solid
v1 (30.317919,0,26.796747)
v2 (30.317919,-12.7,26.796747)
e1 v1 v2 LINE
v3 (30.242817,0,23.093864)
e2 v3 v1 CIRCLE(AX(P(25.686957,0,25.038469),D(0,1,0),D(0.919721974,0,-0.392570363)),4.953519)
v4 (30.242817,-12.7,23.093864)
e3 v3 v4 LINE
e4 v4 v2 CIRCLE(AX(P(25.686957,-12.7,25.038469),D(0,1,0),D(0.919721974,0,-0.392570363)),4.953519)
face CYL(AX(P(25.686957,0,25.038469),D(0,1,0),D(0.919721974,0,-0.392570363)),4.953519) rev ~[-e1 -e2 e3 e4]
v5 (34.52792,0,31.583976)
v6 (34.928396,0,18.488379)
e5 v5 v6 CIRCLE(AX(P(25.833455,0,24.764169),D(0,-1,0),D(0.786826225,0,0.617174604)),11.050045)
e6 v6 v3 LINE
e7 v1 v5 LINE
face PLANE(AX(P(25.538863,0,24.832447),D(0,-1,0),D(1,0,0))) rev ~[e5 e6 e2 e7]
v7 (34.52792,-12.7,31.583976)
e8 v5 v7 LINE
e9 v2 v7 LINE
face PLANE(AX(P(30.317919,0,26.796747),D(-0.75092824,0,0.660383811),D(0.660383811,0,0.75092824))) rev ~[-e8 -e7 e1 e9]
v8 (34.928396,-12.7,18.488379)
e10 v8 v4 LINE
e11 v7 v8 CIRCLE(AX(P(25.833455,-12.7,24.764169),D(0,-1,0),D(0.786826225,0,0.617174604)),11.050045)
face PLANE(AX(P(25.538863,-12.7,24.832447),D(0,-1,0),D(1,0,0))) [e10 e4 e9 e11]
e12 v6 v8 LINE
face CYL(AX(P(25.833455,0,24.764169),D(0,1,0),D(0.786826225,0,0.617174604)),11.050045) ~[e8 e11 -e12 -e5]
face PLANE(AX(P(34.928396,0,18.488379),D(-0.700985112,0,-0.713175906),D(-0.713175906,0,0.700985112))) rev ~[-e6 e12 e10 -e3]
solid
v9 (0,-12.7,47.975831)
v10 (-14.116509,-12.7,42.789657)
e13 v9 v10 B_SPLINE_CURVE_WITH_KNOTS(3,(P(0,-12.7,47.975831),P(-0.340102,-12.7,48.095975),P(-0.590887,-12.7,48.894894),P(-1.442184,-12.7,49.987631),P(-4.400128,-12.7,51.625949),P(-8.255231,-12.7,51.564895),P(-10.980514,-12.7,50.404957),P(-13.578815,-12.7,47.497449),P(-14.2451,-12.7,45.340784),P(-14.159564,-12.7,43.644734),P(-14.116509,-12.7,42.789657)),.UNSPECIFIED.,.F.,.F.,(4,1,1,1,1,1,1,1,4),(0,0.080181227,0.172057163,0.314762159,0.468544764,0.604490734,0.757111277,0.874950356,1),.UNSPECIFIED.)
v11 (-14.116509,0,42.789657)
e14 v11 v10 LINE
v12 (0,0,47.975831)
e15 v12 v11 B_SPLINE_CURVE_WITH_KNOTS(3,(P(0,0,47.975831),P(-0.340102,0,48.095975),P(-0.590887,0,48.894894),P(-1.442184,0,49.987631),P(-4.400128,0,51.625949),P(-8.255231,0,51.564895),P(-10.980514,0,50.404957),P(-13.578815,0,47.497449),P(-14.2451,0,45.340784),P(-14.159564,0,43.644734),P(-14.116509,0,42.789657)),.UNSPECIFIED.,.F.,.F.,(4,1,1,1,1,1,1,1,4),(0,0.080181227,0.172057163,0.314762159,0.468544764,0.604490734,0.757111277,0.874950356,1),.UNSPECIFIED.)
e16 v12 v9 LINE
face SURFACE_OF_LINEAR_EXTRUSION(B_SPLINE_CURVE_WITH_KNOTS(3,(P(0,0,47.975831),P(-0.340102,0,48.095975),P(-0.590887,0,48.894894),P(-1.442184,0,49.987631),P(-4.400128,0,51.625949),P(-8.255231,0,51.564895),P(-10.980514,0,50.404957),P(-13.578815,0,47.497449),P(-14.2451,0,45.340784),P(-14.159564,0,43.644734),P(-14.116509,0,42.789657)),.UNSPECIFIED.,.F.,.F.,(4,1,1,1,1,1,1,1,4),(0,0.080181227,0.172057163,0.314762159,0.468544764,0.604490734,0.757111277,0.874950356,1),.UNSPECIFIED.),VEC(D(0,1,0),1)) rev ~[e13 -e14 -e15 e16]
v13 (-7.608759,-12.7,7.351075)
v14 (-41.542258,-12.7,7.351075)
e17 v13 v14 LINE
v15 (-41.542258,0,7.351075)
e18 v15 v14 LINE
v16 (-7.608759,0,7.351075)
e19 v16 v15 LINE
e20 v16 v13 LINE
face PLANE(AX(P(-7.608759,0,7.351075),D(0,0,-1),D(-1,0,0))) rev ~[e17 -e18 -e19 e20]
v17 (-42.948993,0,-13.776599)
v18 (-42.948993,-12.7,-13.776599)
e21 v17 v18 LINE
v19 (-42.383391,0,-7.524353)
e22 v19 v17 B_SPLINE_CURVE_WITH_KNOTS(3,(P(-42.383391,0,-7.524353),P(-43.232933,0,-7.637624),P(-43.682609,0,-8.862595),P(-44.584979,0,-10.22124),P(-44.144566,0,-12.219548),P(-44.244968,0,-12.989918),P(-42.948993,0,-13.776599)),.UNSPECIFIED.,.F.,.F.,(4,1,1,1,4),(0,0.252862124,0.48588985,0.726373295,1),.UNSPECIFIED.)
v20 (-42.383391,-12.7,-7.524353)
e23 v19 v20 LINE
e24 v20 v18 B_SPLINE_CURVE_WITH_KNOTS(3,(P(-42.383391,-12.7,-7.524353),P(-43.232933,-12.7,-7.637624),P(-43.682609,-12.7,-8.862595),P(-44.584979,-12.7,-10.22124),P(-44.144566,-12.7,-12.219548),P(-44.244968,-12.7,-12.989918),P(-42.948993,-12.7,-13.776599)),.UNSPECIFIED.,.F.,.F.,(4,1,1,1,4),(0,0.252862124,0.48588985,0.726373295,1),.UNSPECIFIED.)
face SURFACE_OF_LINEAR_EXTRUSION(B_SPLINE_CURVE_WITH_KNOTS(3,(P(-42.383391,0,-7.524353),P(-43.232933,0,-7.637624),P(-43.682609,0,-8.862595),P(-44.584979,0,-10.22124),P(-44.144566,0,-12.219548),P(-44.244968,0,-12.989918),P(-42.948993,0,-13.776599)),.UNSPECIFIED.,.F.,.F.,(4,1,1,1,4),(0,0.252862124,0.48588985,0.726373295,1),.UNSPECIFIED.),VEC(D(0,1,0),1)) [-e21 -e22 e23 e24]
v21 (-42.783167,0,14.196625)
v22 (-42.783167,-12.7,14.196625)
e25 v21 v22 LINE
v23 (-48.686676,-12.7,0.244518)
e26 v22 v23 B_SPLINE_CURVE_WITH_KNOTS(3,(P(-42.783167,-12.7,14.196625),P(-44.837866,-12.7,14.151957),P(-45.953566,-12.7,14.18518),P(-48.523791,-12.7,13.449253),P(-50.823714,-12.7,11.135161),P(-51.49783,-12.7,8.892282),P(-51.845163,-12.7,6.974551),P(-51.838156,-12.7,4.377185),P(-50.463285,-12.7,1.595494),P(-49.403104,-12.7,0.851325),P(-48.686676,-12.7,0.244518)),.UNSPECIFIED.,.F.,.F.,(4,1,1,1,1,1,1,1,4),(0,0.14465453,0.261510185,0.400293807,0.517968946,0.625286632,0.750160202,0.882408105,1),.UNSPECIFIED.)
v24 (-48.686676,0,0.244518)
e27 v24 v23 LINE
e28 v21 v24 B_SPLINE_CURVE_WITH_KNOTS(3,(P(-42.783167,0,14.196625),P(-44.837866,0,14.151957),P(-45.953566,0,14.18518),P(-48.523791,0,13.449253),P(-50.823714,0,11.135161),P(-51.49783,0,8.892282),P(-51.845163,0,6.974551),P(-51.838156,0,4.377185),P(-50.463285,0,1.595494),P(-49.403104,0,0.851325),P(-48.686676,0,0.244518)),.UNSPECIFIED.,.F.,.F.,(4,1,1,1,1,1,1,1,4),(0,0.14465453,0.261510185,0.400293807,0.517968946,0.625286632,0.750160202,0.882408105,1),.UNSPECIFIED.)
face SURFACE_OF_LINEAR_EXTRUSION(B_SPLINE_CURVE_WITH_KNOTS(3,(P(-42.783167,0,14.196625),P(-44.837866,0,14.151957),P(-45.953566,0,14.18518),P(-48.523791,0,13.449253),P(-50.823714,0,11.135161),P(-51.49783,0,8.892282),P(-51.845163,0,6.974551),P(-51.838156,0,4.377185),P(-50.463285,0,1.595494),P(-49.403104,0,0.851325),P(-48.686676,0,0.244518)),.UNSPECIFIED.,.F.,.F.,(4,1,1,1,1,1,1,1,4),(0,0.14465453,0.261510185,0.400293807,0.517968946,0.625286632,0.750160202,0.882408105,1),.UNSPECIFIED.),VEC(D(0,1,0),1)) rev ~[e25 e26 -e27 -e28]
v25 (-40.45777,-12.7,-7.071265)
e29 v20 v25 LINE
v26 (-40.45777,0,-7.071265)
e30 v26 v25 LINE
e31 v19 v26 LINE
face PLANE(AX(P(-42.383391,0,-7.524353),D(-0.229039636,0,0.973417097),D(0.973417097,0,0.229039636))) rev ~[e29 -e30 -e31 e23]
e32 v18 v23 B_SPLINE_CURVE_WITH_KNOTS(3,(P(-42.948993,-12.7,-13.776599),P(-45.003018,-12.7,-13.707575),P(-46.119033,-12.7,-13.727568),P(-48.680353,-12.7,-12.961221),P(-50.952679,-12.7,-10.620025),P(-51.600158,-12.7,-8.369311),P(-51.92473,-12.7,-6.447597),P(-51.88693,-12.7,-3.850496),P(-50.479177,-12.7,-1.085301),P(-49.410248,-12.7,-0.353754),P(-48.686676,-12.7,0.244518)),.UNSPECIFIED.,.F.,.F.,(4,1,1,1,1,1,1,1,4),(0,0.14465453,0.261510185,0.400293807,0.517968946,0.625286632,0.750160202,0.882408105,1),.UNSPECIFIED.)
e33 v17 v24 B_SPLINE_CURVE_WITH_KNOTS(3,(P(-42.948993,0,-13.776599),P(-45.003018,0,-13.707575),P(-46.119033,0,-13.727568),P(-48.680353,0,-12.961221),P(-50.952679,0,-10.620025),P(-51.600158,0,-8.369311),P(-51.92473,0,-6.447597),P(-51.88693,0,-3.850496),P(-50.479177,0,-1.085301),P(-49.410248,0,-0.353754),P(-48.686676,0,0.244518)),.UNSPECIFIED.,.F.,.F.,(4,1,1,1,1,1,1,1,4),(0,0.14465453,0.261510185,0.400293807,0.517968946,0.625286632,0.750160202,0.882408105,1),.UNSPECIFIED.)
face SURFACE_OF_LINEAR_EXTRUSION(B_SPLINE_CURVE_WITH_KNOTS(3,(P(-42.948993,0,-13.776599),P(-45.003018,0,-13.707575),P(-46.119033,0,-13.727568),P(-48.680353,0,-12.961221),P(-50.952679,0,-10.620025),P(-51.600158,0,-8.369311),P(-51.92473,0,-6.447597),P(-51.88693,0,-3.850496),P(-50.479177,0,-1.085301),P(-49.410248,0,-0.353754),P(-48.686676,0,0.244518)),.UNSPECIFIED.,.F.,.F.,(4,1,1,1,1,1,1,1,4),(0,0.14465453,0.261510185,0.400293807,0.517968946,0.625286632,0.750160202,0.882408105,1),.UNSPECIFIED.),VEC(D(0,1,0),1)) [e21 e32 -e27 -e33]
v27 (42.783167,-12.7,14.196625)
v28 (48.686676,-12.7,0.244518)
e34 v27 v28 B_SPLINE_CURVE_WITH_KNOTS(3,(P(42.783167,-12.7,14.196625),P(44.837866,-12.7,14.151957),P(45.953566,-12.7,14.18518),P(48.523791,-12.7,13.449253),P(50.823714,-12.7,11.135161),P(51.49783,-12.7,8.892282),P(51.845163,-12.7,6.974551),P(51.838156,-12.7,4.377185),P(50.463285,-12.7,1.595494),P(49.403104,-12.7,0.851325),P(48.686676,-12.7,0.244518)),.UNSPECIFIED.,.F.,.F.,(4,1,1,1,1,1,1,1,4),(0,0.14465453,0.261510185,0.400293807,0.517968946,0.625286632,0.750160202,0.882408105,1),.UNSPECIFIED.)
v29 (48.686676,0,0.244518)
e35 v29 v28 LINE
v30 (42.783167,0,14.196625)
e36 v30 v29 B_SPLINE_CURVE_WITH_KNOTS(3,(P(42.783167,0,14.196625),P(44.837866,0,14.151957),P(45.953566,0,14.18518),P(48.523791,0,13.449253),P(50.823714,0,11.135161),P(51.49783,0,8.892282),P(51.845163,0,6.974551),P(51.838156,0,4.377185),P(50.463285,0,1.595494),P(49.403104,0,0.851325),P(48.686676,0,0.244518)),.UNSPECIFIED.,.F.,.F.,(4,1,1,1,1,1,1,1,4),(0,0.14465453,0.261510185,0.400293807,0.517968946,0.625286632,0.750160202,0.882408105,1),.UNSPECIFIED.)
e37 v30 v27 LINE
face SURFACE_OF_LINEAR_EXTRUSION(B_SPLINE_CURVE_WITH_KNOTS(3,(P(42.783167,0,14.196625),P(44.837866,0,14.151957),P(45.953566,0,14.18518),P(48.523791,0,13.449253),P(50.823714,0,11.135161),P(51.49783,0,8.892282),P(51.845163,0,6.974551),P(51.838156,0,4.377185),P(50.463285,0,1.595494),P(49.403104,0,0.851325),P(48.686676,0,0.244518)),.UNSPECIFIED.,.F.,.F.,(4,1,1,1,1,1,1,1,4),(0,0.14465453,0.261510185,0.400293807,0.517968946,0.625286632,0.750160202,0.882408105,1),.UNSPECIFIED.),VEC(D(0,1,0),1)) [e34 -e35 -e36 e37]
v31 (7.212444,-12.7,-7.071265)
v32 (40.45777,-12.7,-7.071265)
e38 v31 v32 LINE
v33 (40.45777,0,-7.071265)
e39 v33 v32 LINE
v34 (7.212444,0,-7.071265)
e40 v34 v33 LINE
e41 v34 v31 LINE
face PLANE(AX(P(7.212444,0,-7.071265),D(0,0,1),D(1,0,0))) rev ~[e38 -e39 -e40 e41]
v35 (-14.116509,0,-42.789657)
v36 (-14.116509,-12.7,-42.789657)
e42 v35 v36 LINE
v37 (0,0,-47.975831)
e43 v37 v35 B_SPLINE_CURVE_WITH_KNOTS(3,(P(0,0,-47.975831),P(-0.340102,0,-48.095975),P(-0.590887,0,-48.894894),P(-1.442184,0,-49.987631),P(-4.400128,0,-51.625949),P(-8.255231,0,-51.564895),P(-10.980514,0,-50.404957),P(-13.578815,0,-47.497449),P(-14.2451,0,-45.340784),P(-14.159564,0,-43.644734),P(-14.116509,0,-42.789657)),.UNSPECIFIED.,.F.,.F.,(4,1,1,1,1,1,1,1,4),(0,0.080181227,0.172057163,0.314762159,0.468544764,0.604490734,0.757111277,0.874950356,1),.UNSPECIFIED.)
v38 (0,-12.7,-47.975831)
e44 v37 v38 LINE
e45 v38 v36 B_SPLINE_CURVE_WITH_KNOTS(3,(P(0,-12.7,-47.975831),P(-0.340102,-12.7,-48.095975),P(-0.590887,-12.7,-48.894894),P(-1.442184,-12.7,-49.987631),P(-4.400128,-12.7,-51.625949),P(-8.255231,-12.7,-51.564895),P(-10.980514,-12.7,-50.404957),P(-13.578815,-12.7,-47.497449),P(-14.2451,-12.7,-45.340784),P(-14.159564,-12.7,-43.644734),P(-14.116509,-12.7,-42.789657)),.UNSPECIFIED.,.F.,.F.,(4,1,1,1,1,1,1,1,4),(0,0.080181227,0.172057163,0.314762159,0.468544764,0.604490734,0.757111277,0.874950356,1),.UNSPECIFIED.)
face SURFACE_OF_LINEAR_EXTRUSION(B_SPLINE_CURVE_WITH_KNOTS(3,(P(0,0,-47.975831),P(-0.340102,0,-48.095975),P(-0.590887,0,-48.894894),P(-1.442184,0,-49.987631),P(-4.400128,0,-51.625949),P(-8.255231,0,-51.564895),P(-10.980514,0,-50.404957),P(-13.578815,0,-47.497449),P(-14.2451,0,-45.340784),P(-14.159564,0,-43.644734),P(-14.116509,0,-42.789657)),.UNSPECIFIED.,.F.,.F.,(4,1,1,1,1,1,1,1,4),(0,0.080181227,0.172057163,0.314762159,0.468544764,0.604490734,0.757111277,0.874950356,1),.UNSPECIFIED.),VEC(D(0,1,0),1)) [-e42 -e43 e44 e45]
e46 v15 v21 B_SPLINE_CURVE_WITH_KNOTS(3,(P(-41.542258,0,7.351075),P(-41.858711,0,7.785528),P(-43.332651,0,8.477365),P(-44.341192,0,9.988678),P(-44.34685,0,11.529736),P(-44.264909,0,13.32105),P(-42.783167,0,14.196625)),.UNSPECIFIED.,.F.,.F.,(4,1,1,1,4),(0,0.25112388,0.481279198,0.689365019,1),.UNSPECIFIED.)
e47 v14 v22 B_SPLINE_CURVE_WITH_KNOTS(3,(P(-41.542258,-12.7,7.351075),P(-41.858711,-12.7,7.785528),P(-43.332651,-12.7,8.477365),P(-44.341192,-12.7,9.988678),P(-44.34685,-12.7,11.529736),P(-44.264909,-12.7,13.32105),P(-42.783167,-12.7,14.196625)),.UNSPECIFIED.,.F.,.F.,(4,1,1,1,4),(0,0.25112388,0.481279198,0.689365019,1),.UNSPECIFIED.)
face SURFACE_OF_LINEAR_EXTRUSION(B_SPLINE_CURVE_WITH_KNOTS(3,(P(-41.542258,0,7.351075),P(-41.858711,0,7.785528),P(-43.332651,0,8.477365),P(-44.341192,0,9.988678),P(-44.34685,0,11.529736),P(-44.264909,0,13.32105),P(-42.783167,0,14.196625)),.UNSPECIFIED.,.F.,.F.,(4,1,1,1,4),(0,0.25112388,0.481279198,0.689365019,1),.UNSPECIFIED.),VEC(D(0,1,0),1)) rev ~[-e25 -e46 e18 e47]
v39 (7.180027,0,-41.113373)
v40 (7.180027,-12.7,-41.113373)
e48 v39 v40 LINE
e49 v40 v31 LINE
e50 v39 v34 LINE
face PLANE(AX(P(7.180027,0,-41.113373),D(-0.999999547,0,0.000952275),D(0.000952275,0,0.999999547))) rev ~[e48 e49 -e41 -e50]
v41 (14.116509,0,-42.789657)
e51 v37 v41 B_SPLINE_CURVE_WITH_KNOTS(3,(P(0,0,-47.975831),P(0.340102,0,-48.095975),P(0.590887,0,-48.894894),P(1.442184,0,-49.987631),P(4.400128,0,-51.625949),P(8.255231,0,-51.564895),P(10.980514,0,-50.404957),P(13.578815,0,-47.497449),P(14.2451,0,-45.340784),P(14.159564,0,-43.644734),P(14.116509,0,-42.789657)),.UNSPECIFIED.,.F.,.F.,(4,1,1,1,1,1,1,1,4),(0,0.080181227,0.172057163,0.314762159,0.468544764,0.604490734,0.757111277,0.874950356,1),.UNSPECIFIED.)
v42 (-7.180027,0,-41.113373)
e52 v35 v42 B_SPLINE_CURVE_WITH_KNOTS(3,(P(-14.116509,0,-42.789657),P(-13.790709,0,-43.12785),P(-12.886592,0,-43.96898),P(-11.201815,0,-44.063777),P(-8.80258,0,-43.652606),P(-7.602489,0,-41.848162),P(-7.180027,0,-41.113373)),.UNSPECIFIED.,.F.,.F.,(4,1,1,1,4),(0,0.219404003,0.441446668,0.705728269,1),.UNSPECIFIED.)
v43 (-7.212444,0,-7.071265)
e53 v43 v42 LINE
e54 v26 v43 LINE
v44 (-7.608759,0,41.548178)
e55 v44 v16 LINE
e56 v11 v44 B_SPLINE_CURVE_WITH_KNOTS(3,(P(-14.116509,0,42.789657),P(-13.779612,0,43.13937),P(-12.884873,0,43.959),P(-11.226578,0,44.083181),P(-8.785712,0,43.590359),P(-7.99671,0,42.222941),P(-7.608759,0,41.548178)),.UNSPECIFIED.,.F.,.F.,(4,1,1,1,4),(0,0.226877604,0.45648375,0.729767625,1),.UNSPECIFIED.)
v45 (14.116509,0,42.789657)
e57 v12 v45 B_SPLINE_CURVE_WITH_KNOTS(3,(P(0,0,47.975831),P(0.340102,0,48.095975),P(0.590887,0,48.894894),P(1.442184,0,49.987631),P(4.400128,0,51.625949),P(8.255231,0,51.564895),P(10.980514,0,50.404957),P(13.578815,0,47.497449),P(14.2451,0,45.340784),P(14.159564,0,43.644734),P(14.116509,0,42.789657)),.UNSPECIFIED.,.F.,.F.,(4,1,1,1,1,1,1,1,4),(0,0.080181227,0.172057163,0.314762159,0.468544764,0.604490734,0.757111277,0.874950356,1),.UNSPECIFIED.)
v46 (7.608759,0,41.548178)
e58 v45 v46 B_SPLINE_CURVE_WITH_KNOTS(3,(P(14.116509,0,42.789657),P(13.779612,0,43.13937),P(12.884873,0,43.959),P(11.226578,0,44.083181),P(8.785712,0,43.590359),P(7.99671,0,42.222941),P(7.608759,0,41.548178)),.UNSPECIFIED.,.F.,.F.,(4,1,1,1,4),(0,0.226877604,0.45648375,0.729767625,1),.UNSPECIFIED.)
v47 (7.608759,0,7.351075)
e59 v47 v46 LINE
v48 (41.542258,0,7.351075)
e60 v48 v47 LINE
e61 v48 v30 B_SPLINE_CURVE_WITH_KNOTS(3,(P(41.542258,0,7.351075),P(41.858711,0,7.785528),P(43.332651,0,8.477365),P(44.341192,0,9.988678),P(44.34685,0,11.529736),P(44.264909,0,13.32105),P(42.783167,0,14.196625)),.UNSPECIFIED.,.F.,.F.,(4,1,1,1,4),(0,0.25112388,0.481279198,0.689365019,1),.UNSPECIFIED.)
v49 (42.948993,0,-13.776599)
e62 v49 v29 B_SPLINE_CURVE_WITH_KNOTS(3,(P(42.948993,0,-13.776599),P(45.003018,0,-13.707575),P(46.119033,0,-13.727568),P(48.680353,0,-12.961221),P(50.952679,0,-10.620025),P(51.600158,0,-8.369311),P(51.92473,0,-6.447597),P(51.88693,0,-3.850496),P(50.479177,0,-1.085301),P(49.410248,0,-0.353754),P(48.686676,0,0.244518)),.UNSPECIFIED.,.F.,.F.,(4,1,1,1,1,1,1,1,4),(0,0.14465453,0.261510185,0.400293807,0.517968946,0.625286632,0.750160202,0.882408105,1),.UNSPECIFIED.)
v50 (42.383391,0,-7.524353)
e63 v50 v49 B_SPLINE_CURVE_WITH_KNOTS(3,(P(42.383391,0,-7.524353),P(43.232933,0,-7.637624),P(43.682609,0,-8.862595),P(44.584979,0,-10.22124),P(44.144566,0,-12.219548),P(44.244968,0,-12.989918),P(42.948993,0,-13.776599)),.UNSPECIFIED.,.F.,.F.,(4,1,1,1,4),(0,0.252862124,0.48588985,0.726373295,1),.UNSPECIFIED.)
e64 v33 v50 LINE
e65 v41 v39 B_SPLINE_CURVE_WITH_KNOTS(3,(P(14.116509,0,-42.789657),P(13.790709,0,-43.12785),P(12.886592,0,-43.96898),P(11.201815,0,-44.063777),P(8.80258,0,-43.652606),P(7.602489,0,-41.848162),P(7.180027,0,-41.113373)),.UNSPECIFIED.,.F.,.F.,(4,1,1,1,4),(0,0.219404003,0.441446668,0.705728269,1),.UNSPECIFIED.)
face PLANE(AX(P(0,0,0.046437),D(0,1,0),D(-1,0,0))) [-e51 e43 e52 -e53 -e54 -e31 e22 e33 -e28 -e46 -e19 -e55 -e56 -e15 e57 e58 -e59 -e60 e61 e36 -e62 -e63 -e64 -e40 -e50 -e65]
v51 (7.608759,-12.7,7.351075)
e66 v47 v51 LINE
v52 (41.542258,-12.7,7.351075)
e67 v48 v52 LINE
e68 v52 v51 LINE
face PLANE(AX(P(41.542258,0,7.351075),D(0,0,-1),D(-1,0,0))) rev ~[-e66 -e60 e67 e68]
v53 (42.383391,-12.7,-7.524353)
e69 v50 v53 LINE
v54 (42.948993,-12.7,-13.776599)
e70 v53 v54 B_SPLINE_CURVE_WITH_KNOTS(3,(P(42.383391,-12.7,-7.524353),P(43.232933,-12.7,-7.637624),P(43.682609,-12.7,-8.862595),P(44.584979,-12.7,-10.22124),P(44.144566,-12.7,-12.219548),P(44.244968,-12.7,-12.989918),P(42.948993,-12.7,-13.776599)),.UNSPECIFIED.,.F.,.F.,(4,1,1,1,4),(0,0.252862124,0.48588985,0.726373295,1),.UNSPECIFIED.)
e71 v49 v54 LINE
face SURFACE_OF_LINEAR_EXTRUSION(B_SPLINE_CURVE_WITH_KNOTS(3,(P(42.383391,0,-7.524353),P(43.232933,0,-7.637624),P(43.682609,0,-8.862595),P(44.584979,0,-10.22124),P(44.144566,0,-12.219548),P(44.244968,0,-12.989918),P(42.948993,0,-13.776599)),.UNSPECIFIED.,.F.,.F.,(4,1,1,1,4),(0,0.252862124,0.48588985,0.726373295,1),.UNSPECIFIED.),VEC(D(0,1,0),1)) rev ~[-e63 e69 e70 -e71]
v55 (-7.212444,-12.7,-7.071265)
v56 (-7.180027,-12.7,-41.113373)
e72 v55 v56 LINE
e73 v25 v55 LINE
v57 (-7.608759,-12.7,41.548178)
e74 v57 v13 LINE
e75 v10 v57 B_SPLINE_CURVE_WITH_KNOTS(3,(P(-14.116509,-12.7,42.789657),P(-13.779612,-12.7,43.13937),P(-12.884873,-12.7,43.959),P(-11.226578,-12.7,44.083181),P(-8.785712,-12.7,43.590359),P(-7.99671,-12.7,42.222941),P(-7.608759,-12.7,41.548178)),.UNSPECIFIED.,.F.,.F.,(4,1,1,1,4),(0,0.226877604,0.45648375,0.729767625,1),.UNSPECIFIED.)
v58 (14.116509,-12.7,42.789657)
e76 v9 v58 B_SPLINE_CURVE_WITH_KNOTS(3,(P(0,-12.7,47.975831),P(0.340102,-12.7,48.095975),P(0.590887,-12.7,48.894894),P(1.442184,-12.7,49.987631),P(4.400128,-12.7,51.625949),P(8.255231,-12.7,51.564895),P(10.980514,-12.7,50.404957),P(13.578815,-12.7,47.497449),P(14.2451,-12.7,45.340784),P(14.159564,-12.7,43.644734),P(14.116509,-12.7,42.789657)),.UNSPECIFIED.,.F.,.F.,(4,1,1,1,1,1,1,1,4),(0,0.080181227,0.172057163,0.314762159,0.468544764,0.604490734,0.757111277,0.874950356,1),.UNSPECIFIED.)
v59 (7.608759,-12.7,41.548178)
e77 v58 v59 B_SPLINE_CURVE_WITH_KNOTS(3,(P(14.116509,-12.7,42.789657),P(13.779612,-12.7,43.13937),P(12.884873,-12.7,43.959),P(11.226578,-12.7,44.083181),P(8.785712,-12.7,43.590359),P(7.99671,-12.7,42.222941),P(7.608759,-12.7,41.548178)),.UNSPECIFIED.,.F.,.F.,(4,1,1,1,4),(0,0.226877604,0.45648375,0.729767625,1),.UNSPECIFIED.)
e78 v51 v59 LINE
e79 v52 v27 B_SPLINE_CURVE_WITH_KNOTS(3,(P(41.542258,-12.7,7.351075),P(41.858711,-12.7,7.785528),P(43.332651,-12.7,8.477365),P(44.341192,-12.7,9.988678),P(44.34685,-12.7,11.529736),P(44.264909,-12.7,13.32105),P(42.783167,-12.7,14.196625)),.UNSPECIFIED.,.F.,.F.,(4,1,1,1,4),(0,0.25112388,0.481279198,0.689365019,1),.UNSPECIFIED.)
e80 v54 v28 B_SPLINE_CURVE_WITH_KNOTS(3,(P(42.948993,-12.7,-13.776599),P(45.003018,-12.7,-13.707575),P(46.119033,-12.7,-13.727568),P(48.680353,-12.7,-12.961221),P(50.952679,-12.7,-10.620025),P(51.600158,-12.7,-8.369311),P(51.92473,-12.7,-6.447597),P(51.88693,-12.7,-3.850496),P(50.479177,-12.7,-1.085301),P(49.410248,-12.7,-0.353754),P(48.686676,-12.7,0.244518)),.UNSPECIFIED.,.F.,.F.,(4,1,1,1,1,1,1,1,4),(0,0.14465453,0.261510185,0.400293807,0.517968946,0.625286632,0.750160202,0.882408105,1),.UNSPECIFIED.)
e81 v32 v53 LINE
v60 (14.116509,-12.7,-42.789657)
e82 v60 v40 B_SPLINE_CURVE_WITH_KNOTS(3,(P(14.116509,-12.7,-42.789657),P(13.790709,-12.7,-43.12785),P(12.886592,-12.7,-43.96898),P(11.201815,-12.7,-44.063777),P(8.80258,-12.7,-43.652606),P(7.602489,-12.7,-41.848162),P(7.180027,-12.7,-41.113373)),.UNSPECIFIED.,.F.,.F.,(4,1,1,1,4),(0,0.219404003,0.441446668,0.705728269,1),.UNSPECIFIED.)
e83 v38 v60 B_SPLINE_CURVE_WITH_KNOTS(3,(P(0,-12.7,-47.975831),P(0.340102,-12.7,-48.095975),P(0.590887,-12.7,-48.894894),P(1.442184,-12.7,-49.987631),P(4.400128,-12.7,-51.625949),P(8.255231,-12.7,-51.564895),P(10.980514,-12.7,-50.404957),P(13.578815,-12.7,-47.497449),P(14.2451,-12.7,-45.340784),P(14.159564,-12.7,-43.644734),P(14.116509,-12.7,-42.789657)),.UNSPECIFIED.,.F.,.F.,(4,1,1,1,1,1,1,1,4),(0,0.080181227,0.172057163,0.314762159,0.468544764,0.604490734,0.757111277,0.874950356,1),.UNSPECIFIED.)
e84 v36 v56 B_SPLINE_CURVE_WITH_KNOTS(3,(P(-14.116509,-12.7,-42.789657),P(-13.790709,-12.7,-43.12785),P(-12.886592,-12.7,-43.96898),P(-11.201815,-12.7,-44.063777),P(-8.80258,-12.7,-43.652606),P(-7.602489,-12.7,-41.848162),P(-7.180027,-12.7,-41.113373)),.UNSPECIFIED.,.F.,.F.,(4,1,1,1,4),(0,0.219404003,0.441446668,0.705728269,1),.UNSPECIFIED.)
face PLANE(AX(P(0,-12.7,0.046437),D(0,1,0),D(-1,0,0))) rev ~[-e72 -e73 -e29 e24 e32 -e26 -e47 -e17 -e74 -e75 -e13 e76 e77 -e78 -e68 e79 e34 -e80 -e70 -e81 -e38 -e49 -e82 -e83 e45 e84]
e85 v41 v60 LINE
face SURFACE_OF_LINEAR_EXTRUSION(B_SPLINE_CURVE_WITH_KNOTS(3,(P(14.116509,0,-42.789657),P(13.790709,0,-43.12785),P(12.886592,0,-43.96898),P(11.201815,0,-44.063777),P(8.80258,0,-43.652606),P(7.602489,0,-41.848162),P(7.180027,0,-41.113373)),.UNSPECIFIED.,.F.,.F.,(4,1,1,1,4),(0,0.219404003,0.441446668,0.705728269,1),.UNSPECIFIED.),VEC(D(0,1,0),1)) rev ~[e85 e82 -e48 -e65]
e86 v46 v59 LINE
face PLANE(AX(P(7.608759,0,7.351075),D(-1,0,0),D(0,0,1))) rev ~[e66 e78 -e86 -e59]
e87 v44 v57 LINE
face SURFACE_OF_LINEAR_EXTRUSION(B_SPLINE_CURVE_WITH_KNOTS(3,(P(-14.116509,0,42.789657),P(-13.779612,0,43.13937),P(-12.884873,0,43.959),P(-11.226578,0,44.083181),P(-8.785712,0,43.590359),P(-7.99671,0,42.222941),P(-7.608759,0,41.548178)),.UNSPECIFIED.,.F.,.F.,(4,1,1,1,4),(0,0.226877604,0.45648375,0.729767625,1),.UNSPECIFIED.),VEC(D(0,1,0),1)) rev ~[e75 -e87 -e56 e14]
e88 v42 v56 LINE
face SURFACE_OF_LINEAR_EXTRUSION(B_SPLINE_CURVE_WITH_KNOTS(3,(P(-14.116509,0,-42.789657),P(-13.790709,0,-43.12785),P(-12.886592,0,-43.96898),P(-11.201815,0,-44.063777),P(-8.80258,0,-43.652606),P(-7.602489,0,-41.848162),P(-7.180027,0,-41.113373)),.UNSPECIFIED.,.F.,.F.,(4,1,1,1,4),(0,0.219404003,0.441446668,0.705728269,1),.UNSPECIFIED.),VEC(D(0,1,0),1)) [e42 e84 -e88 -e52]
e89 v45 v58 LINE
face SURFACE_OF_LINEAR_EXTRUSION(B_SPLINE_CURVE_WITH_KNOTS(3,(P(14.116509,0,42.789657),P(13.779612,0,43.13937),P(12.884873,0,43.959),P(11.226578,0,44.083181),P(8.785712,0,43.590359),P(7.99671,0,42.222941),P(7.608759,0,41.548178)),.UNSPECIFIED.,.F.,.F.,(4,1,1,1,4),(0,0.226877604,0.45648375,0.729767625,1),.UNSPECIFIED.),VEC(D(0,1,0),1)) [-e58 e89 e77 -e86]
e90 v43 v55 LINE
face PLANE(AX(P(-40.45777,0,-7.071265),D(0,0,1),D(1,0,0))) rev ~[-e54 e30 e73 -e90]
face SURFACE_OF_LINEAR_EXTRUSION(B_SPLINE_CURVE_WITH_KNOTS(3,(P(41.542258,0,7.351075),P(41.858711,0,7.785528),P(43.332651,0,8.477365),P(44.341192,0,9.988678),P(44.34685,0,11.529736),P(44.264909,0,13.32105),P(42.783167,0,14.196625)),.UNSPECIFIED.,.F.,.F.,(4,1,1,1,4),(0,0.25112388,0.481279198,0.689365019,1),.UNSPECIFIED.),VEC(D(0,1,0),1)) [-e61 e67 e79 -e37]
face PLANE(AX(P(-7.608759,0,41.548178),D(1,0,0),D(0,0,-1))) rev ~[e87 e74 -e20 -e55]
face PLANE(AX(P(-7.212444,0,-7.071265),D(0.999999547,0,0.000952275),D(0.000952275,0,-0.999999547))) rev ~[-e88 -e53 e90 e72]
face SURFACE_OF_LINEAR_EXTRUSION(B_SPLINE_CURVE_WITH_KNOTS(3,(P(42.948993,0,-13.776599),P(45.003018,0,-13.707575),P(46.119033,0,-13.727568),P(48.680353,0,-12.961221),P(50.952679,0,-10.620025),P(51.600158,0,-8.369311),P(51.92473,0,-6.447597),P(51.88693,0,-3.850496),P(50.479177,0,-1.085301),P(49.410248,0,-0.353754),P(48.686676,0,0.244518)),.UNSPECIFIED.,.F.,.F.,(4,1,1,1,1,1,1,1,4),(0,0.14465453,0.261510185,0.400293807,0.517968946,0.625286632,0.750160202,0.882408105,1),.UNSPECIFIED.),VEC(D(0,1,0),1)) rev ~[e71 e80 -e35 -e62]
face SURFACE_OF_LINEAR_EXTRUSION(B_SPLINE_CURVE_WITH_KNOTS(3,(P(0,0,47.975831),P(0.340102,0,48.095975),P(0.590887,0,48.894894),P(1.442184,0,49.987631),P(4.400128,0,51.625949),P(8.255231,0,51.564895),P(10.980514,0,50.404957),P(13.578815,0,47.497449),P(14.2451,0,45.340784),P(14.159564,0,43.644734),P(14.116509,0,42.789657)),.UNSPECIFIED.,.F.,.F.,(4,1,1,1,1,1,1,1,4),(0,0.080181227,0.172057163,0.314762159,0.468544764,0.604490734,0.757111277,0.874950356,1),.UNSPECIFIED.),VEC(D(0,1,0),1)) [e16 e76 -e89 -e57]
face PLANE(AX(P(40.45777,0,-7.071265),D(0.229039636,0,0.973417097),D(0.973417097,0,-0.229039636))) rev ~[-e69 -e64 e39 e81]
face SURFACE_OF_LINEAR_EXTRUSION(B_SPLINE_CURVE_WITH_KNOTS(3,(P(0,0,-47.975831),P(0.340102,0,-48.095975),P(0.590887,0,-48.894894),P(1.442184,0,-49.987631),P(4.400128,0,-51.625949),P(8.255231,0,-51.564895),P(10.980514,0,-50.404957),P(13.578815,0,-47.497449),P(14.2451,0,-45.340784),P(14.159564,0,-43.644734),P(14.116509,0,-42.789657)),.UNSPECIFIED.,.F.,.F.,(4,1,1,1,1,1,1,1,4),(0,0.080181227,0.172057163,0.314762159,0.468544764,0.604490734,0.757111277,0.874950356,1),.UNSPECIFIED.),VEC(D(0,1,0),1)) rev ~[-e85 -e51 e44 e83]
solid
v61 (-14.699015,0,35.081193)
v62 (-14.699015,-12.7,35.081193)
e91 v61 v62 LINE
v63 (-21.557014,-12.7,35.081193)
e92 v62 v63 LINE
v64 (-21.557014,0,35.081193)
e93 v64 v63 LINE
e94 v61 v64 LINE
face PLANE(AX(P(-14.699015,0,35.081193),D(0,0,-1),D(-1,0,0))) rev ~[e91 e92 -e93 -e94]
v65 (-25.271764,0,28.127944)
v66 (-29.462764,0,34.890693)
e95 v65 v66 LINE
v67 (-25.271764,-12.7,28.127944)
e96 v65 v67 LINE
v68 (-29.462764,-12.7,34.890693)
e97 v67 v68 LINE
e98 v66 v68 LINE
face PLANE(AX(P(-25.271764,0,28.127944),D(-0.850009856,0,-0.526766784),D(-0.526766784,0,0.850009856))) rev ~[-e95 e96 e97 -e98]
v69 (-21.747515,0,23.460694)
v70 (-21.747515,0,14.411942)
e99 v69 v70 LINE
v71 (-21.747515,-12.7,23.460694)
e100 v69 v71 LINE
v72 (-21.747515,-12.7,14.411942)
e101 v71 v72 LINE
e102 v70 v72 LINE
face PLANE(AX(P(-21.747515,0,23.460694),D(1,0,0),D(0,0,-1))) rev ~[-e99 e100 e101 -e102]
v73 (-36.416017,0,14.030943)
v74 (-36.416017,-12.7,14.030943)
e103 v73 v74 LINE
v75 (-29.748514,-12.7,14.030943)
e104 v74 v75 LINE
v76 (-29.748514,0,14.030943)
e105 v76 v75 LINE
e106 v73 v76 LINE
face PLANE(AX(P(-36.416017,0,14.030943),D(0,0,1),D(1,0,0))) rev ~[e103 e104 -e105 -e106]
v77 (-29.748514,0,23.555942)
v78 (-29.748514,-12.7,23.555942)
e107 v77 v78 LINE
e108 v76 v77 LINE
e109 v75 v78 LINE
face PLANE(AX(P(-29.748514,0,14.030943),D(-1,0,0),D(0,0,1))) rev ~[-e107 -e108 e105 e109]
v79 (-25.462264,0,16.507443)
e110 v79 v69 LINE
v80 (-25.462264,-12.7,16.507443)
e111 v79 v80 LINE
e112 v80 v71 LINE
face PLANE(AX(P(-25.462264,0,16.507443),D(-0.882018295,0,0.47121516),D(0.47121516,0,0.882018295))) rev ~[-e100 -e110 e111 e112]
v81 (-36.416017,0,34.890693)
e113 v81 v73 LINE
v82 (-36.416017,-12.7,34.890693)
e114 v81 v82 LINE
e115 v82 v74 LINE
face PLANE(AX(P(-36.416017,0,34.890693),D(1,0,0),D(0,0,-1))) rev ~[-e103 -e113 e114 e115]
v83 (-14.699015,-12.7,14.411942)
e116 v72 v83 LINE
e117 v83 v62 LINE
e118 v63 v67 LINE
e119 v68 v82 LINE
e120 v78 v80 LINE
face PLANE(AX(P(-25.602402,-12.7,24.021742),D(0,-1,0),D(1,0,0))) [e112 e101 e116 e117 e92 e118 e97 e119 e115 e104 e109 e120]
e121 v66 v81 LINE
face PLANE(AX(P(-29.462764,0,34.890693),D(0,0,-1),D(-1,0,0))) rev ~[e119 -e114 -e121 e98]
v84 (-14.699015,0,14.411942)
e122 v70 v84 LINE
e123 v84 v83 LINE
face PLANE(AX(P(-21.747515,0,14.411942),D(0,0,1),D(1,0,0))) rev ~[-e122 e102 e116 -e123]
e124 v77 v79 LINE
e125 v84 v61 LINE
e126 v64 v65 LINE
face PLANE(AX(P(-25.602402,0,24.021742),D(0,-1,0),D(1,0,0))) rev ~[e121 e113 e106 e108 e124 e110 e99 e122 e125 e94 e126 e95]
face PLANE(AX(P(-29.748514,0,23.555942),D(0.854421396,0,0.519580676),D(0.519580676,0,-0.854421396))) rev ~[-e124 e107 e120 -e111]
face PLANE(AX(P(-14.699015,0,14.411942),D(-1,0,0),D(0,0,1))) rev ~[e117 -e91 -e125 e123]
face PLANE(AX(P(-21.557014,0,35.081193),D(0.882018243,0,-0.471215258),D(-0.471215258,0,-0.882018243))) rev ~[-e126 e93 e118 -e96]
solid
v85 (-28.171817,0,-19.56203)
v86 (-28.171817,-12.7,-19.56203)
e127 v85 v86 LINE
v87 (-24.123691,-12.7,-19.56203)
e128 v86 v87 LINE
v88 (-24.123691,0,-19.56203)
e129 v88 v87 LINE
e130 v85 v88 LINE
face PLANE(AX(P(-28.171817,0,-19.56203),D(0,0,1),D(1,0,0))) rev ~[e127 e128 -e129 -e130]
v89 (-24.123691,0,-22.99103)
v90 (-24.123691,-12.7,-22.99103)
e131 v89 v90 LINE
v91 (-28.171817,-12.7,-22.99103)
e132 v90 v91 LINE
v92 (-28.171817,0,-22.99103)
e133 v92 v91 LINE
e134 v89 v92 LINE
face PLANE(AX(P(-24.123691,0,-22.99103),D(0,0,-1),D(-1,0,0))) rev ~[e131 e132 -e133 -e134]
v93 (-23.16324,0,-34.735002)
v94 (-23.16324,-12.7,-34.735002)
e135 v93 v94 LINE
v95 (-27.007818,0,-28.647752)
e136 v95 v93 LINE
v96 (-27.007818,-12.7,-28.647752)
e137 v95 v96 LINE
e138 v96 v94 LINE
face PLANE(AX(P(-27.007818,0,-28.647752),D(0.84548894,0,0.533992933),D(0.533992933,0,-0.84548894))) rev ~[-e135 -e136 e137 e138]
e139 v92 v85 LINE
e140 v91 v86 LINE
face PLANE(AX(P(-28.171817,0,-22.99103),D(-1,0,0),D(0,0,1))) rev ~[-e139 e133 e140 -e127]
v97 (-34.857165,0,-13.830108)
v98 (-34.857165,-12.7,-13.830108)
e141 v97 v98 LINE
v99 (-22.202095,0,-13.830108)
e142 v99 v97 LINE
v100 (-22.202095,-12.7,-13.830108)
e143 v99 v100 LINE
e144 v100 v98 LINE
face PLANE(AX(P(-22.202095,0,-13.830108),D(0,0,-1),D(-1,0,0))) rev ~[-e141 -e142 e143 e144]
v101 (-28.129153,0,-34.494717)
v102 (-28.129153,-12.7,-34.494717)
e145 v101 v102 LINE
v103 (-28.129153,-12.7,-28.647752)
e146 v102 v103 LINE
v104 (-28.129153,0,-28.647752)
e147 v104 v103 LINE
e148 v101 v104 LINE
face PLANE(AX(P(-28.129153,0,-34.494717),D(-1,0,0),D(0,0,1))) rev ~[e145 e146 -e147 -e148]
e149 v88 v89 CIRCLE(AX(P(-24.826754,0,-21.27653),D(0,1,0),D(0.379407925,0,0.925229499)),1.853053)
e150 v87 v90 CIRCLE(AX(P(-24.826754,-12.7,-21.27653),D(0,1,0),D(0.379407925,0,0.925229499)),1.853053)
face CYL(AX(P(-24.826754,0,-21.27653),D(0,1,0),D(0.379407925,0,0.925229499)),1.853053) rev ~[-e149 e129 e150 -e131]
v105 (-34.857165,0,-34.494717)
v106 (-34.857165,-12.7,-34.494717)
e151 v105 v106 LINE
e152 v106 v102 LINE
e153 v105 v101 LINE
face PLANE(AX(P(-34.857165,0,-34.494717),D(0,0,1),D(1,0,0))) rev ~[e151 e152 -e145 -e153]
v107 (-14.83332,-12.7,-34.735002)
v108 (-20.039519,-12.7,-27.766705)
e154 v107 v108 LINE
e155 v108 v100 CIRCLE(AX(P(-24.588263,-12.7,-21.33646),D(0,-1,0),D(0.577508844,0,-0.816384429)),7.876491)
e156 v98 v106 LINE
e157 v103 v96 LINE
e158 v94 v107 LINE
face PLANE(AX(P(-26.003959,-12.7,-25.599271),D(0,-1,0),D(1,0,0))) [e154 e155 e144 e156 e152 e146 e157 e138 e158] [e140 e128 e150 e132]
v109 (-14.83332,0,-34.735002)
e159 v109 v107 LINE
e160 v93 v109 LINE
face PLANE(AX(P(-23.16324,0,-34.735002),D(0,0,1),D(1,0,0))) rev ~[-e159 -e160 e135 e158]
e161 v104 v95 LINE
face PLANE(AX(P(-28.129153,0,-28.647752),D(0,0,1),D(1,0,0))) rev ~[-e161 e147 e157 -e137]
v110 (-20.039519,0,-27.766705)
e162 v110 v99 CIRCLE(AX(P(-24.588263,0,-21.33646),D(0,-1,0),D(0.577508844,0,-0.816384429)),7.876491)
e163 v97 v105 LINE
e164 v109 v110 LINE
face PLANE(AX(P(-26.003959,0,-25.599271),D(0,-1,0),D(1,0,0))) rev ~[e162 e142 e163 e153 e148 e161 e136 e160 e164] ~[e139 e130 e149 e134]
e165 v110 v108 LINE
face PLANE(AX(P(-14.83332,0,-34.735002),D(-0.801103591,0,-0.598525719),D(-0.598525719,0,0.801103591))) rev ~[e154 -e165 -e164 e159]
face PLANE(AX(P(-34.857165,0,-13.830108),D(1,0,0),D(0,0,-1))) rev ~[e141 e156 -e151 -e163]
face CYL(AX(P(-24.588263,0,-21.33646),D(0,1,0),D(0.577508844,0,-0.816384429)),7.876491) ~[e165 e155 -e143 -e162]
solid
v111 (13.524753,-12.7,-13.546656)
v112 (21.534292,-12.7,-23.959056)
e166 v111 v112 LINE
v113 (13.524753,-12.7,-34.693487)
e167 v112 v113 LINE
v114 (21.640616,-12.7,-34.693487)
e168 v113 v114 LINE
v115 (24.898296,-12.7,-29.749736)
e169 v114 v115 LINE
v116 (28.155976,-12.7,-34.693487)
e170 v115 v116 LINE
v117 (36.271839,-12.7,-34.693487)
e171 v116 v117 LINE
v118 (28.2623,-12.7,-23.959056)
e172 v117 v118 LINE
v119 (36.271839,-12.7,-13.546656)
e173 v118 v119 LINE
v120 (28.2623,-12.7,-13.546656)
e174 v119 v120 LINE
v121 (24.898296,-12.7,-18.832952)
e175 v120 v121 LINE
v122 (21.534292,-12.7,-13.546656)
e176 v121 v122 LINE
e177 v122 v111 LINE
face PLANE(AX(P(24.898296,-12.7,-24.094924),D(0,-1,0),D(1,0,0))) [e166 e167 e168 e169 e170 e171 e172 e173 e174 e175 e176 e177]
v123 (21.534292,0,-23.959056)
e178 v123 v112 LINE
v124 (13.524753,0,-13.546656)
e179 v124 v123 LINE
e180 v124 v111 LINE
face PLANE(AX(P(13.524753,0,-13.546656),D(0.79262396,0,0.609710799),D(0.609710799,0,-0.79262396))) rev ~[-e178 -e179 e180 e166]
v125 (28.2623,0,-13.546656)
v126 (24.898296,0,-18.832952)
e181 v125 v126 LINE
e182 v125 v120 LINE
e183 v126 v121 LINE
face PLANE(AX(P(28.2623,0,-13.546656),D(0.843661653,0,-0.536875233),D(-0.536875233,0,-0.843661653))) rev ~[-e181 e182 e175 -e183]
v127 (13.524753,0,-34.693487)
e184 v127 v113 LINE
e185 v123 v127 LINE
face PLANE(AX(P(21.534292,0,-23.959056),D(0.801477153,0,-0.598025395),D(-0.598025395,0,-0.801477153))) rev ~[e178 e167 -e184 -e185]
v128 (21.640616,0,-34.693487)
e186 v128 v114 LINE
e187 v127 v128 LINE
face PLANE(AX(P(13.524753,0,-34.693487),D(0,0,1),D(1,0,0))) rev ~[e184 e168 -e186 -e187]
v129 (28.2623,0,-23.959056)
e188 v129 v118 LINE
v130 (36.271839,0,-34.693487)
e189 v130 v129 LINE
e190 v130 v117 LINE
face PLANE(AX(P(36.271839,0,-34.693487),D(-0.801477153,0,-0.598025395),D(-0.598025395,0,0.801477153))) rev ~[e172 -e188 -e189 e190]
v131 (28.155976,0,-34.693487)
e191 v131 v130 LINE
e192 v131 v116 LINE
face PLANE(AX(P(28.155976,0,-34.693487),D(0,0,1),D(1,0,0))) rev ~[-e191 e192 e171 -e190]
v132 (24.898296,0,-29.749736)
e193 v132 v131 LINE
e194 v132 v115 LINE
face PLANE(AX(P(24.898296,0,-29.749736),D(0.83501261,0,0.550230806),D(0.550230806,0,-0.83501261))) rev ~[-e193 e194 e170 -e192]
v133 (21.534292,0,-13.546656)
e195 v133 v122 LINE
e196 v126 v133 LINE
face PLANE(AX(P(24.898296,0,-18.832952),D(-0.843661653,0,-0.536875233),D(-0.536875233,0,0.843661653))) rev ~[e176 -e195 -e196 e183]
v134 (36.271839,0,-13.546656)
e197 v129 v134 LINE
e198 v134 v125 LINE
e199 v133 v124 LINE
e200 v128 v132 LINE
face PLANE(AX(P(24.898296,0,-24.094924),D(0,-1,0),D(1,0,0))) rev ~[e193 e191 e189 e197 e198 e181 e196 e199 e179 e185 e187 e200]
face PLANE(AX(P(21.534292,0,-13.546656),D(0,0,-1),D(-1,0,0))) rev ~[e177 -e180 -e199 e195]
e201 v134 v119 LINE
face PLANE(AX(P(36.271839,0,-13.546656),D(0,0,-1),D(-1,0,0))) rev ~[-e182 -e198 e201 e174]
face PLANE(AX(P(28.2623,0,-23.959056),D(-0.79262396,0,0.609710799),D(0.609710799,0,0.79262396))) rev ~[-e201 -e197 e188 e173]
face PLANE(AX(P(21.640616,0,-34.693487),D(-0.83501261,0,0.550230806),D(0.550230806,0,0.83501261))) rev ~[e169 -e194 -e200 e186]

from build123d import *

# Parameters (mm, degrees)
F1_DEPTH = 12.7


with BuildPart() as f1:
    # F0 (on Front) → F1 (new body)
    with BuildSketch(Plane.XZ):
        with BuildLine():
            add(Edge.make_bspline(
                [(0, 47.9758307338), (0.3401024151, 48.0959750712), (0.5908872818, 48.8948944755), (1.44218376, 49.9876306749), (4.4001276789, 51.6259487784), (8.2552308539, 51.5648948682), (10.9805142821, 50.4049571137), (13.5788147215, 47.4974493331), (14.2450998496, 45.3407836728), (14.1595642706, 43.6447338682), (14.1165088862, 42.7896566689)],
                knots=[0, 0, 0, 0, 0.0801812271, 0.172057163, 0.3147621593, 0.4685447635, 0.6044907338, 0.7571112766, 0.8749503565, 1, 1, 1, 1], degree=3))
            add(Edge.make_bspline(
                [(0, 47.9758307338), (-0.3401024151, 48.0959750712), (-0.5908872818, 48.8948944755), (-1.44218376, 49.9876306749), (-4.4001276789, 51.6259487784), (-8.2552308539, 51.5648948682), (-10.9805142821, 50.4049571137), (-13.5788147215, 47.4974493331), (-14.2450998496, 45.3407836728), (-14.1595642706, 43.6447338682), (-14.1165088862, 42.7896566689)],
                knots=[0, 0, 0, 0, 0.0801812271, 0.172057163, 0.3147621593, 0.4685447635, 0.6044907338, 0.7571112766, 0.8749503565, 1, 1, 1, 1], degree=3))
            add(Edge.make_bspline(
                [(-14.1165088862, 42.7896566689), (-13.779611525, 43.1393699296), (-12.8848726229, 43.9590002877), (-11.22657774, 44.0831806062), (-8.7857116767, 43.59035932), (-7.9967096529, 42.2229408011), (-7.6087587513, 41.5481775999)],
                knots=[0, 0, 0, 0, 0.2268776036, 0.4564837499, 0.7297676246, 1, 1, 1, 1], degree=3))
            Line((-7.6087587513, 41.5481775999), (-7.6087587513, 7.3510748334))
            Line((-7.6087587513, 7.3510748334), (-41.5422581136, 7.3510748334))
            add(Edge.make_bspline(
                [(-41.5422581136, 7.3510748334), (-41.85871066, 7.7855279455), (-43.3326510803, 8.4773645882), (-44.3411915552, 9.9886784509), (-44.3468502966, 11.5297361742), (-44.26490888, 13.3210495114), (-42.7831672132, 14.1966249794)],
                knots=[0, 0, 0, 0, 0.2511238804, 0.4812791978, 0.6893650186, 1, 1, 1, 1], degree=3))
            add(Edge.make_bspline(
                [(-42.7831672132, 14.1966249794), (-44.8378655371, 14.151957489), (-45.953565777, 14.1851800521), (-48.5237910858, 13.4492529595), (-50.8237138562, 11.1351611219), (-51.4978303258, 8.8922821856), (-51.8451627528, 6.9745507828), (-51.8381564377, 4.3771847358), (-50.4632850026, 1.5954941268), (-49.4031041048, 0.8513253508), (-48.686676454, 0.2445175072)],
                knots=[0, 0, 0, 0, 0.1446545297, 0.2615101849, 0.4002938068, 0.5179689459, 0.6252866322, 0.7501602024, 0.8824081053, 1, 1, 1, 1], degree=3))
            add(Edge.make_bspline(
                [(-42.9489933071, -13.7765992949), (-45.0030176638, -13.707575176), (-46.1190333665, -13.7275680615), (-48.6803531502, -12.9612210191), (-50.9526792361, -10.6200247562), (-51.6001575586, -8.3693113672), (-51.9247296379, -6.4475968948), (-51.8869303731, -3.8504964566), (-50.4791768367, -1.0853013301), (-49.4102478504, -0.3537539798), (-48.686676454, 0.2445175072)],
                knots=[0, 0, 0, 0, 0.1446545297, 0.2615101849, 0.4002938068, 0.5179689459, 0.6252866322, 0.7501602024, 0.8824081053, 1, 1, 1, 1], degree=3))
            add(Edge.make_bspline(
                [(-42.3833914101, -7.5243525207), (-43.2329326868, -7.6376241632), (-43.68260861, -8.8625946484), (-44.5849794631, -10.2212402763), (-44.1445660433, -12.2195480003), (-44.2449684371, -12.9899177976), (-42.9489933071, -13.7765992949)],
                knots=[0, 0, 0, 0, 0.2528621237, 0.4858898495, 0.7263732951, 1, 1, 1, 1], degree=3))
            Line((-42.3833914101, -7.5243525207), (-40.4577702284, -7.0712645538))
            Line((-40.4577702284, -7.0712645538), (-7.2124442086, -7.0712645538))
            Line((-7.2124442086, -7.0712645538), (-7.1800267324, -41.1133728921))
            add(Edge.make_bspline(
                [(-14.1165088862, -42.7896566689), (-13.7907092981, -43.1278499866), (-12.8865917267, -43.9689797849), (-11.20181489, -44.0637767903), (-8.8025796941, -43.6526060389), (-7.6024890047, -41.8481617381), (-7.1800267324, -41.1133728921)],
                knots=[0, 0, 0, 0, 0.2194040035, 0.4414466684, 0.7057282689, 1, 1, 1, 1], degree=3))
            add(Edge.make_bspline(
                [(0, -47.9758307338), (-0.3401024151, -48.0959750712), (-0.5908872818, -48.8948944755), (-1.44218376, -49.9876306749), (-4.4001276789, -51.6259487784), (-8.2552308539, -51.5648948682), (-10.9805142821, -50.4049571137), (-13.5788147215, -47.4974493331), (-14.2450998496, -45.3407836728), (-14.1595642706, -43.6447338682), (-14.1165088862, -42.7896566689)],
                knots=[0, 0, 0, 0, 0.0801812271, 0.172057163, 0.3147621593, 0.4685447635, 0.6044907338, 0.7571112766, 0.8749503565, 1, 1, 1, 1], degree=3))
            add(Edge.make_bspline(
                [(0, -47.9758307338), (0.3401024151, -48.0959750712), (0.5908872818, -48.8948944755), (1.44218376, -49.9876306749), (4.4001276789, -51.6259487784), (8.2552308539, -51.5648948682), (10.9805142821, -50.4049571137), (13.5788147215, -47.4974493331), (14.2450998496, -45.3407836728), (14.1595642706, -43.6447338682), (14.1165088862, -42.7896566689)],
                knots=[0, 0, 0, 0, 0.0801812271, 0.172057163, 0.3147621593, 0.4685447635, 0.6044907338, 0.7571112766, 0.8749503565, 1, 1, 1, 1], degree=3))
            add(Edge.make_bspline(
                [(14.1165088862, -42.7896566689), (13.7907092981, -43.1278499866), (12.8865917267, -43.9689797849), (11.20181489, -44.0637767903), (8.8025796941, -43.6526060389), (7.6024890047, -41.8481617381), (7.1800267324, -41.1133728921)],
                knots=[0, 0, 0, 0, 0.2194040035, 0.4414466684, 0.7057282689, 1, 1, 1, 1], degree=3))
            Line((7.1800267324, -41.1133728921), (7.2124442086, -7.0712645538))
            Line((7.2124442086, -7.0712645538), (40.4577702284, -7.0712645538))
            Line((40.4577702284, -7.0712645538), (42.3833914101, -7.5243525207))
            add(Edge.make_bspline(
                [(42.3833914101, -7.5243525207), (43.2329326868, -7.6376241632), (43.68260861, -8.8625946484), (44.5849794631, -10.2212402763), (44.1445660433, -12.2195480003), (44.2449684371, -12.9899177976), (42.9489933071, -13.7765992949)],
                knots=[0, 0, 0, 0, 0.2528621237, 0.4858898495, 0.7263732951, 1, 1, 1, 1], degree=3))
            add(Edge.make_bspline(
                [(42.9489933071, -13.7765992949), (45.0030176638, -13.707575176), (46.1190333665, -13.7275680615), (48.6803531502, -12.9612210191), (50.9526792361, -10.6200247562), (51.6001575586, -8.3693113672), (51.9247296379, -6.4475968948), (51.8869303731, -3.8504964566), (50.4791768367, -1.0853013301), (49.4102478504, -0.3537539798), (48.686676454, 0.2445175072)],
                knots=[0, 0, 0, 0, 0.1446545297, 0.2615101849, 0.4002938068, 0.5179689459, 0.6252866322, 0.7501602024, 0.8824081053, 1, 1, 1, 1], degree=3))
            add(Edge.make_bspline(
                [(42.7831672132, 14.1966249794), (44.8378655371, 14.151957489), (45.953565777, 14.1851800521), (48.5237910858, 13.4492529595), (50.8237138562, 11.1351611219), (51.4978303258, 8.8922821856), (51.8451627528, 6.9745507828), (51.8381564377, 4.3771847358), (50.4632850026, 1.5954941268), (49.4031041048, 0.8513253508), (48.686676454, 0.2445175072)],
                knots=[0, 0, 0, 0, 0.1446545297, 0.2615101849, 0.4002938068, 0.5179689459, 0.6252866322, 0.7501602024, 0.8824081053, 1, 1, 1, 1], degree=3))
            add(Edge.make_bspline(
                [(41.5422581136, 7.3510748334), (41.85871066, 7.7855279455), (43.3326510803, 8.4773645882), (44.3411915552, 9.9886784509), (44.3468502966, 11.5297361742), (44.26490888, 13.3210495114), (42.7831672132, 14.1966249794)],
                knots=[0, 0, 0, 0, 0.2511238804, 0.4812791978, 0.6893650186, 1, 1, 1, 1], degree=3))
            Line((41.5422581136, 7.3510748334), (7.6087587513, 7.3510748334))
            Line((7.6087587513, 7.3510748334), (7.6087587513, 41.5481775999))
            add(Edge.make_bspline(
                [(14.1165088862, 42.7896566689), (13.779611525, 43.1393699296), (12.8848726229, 43.9590002877), (11.22657774, 44.0831806062), (8.7857116767, 43.59035932), (7.9967096529, 42.2229408011), (7.6087587513, 41.5481775999)],
                knots=[0, 0, 0, 0, 0.2268776036, 0.4564837499, 0.7297676246, 1, 1, 1, 1], degree=3))
        make_face()
    extrude(amount=F1_DEPTH)


with BuildPart() as f1b:
    # F0 (on Front) → F1, piece 2 (new body)
    with BuildSketch(Plane.XZ):
        Polygon((-36.4160165191, 34.8906926811), (-36.4160165191, 14.0309426934), (-29.7485142946, 14.0309426934), (-29.7485142946, 23.5559418797), (-25.4622641951, 16.5074430406), (-21.7475146055, 23.4606936574), (-21.7475146055, 14.411942102), (-14.6990148351, 14.411942102), (-14.6990148351, 35.0811928511), (-21.5570144355, 35.0811928511), (-25.2717640251, 28.1279440969), (-29.4627640396, 34.8906926811), align=None)
    extrude(amount=F1_DEPTH)


with BuildPart() as f1c:
    # F0 (on Front) → F1, piece 3 (new body)
    with BuildSketch(Plane.XZ):
        with BuildLine():
            ThreePointArc((30.2428174764, 23.0938643217), (20.7344560339, 25.1389158188), (30.3179193288, 26.796746999))
            Line((30.3179193288, 26.796746999), (34.5279201865, 31.5839760005))
            ThreePointArc((34.5279201865, 31.5839760005), (14.7885733906, 24.4264055918), (34.9283963442, 18.4883791953))
            Line((34.9283963442, 18.4883791953), (30.2428174764, 23.0938643217))
        make_face()
    extrude(amount=F1_DEPTH)


with BuildPart() as f1d:
    # F0 (on Front) → F1, piece 4 (new body)
    with BuildSketch(Plane.XZ):
        with BuildLine():
            Line((-34.8571650684, -13.8301076367), (-34.8571650684, -34.4947166741))
            Line((-34.8571650684, -34.4947166741), (-28.1291529536, -34.4947166741))
            Line((-28.1291529536, -34.4947166741), (-28.1291529536, -28.6477524787))
            Line((-28.1291529536, -28.6477524787), (-27.007818222, -28.6477524787))
            Line((-27.007818222, -28.6477524787), (-23.1632404029, -34.7350016236))
            Line((-23.1632404029, -34.7350016236), (-14.8333199322, -34.7350016236))
            Line((-14.8333199322, -34.7350016236), (-20.0395192951, -27.7667045593))
            ThreePointArc((-20.0395192951, -27.7667045593), (-16.8049195171, -20.128699291), (-22.2020950168, -13.8301076367))
            Line((-22.2020950168, -13.8301076367), (-34.8571650684, -13.8301076367))
        make_face()
        with BuildLine():
            ThreePointArc((-24.1236910224, -19.5620302111), (-22.9737007691, -21.2765298784), (-24.1236910224, -22.9910295457))
            Line((-24.1236910224, -22.9910295457), (-28.1718168408, -22.9910295457))
            Line((-28.1718168408, -22.9910295457), (-28.1718168408, -19.5620302111))
            Line((-28.1718168408, -19.5620302111), (-24.1236910224, -19.5620302111))
        make_face(mode=Mode.SUBTRACT)
    extrude(amount=F1_DEPTH)


with BuildPart() as f1e:
    # F0 (on Front) → F1, piece 5 (new body)
    with BuildSketch(Plane.XZ):
        Polygon((24.8982962221, -18.8329517841), (21.5342920274, -13.5466558859), (13.5247530416, -13.5466558859), (21.5342920274, -23.9590555429), (13.5247530416, -34.6934868201), (21.6406163191, -34.6934868201), (24.8982962221, -29.7497363654), (28.1559761251, -34.6934868201), (36.2718394026, -34.6934868201), (28.2623004168, -23.9590555429), (36.2718394026, -13.5466558859), (28.2623004168, -13.5466558859), align=None)
    extrude(amount=F1_DEPTH)


solid = Compound([f1.part, f1b.part, f1c.part, f1d.part, f1e.part])
